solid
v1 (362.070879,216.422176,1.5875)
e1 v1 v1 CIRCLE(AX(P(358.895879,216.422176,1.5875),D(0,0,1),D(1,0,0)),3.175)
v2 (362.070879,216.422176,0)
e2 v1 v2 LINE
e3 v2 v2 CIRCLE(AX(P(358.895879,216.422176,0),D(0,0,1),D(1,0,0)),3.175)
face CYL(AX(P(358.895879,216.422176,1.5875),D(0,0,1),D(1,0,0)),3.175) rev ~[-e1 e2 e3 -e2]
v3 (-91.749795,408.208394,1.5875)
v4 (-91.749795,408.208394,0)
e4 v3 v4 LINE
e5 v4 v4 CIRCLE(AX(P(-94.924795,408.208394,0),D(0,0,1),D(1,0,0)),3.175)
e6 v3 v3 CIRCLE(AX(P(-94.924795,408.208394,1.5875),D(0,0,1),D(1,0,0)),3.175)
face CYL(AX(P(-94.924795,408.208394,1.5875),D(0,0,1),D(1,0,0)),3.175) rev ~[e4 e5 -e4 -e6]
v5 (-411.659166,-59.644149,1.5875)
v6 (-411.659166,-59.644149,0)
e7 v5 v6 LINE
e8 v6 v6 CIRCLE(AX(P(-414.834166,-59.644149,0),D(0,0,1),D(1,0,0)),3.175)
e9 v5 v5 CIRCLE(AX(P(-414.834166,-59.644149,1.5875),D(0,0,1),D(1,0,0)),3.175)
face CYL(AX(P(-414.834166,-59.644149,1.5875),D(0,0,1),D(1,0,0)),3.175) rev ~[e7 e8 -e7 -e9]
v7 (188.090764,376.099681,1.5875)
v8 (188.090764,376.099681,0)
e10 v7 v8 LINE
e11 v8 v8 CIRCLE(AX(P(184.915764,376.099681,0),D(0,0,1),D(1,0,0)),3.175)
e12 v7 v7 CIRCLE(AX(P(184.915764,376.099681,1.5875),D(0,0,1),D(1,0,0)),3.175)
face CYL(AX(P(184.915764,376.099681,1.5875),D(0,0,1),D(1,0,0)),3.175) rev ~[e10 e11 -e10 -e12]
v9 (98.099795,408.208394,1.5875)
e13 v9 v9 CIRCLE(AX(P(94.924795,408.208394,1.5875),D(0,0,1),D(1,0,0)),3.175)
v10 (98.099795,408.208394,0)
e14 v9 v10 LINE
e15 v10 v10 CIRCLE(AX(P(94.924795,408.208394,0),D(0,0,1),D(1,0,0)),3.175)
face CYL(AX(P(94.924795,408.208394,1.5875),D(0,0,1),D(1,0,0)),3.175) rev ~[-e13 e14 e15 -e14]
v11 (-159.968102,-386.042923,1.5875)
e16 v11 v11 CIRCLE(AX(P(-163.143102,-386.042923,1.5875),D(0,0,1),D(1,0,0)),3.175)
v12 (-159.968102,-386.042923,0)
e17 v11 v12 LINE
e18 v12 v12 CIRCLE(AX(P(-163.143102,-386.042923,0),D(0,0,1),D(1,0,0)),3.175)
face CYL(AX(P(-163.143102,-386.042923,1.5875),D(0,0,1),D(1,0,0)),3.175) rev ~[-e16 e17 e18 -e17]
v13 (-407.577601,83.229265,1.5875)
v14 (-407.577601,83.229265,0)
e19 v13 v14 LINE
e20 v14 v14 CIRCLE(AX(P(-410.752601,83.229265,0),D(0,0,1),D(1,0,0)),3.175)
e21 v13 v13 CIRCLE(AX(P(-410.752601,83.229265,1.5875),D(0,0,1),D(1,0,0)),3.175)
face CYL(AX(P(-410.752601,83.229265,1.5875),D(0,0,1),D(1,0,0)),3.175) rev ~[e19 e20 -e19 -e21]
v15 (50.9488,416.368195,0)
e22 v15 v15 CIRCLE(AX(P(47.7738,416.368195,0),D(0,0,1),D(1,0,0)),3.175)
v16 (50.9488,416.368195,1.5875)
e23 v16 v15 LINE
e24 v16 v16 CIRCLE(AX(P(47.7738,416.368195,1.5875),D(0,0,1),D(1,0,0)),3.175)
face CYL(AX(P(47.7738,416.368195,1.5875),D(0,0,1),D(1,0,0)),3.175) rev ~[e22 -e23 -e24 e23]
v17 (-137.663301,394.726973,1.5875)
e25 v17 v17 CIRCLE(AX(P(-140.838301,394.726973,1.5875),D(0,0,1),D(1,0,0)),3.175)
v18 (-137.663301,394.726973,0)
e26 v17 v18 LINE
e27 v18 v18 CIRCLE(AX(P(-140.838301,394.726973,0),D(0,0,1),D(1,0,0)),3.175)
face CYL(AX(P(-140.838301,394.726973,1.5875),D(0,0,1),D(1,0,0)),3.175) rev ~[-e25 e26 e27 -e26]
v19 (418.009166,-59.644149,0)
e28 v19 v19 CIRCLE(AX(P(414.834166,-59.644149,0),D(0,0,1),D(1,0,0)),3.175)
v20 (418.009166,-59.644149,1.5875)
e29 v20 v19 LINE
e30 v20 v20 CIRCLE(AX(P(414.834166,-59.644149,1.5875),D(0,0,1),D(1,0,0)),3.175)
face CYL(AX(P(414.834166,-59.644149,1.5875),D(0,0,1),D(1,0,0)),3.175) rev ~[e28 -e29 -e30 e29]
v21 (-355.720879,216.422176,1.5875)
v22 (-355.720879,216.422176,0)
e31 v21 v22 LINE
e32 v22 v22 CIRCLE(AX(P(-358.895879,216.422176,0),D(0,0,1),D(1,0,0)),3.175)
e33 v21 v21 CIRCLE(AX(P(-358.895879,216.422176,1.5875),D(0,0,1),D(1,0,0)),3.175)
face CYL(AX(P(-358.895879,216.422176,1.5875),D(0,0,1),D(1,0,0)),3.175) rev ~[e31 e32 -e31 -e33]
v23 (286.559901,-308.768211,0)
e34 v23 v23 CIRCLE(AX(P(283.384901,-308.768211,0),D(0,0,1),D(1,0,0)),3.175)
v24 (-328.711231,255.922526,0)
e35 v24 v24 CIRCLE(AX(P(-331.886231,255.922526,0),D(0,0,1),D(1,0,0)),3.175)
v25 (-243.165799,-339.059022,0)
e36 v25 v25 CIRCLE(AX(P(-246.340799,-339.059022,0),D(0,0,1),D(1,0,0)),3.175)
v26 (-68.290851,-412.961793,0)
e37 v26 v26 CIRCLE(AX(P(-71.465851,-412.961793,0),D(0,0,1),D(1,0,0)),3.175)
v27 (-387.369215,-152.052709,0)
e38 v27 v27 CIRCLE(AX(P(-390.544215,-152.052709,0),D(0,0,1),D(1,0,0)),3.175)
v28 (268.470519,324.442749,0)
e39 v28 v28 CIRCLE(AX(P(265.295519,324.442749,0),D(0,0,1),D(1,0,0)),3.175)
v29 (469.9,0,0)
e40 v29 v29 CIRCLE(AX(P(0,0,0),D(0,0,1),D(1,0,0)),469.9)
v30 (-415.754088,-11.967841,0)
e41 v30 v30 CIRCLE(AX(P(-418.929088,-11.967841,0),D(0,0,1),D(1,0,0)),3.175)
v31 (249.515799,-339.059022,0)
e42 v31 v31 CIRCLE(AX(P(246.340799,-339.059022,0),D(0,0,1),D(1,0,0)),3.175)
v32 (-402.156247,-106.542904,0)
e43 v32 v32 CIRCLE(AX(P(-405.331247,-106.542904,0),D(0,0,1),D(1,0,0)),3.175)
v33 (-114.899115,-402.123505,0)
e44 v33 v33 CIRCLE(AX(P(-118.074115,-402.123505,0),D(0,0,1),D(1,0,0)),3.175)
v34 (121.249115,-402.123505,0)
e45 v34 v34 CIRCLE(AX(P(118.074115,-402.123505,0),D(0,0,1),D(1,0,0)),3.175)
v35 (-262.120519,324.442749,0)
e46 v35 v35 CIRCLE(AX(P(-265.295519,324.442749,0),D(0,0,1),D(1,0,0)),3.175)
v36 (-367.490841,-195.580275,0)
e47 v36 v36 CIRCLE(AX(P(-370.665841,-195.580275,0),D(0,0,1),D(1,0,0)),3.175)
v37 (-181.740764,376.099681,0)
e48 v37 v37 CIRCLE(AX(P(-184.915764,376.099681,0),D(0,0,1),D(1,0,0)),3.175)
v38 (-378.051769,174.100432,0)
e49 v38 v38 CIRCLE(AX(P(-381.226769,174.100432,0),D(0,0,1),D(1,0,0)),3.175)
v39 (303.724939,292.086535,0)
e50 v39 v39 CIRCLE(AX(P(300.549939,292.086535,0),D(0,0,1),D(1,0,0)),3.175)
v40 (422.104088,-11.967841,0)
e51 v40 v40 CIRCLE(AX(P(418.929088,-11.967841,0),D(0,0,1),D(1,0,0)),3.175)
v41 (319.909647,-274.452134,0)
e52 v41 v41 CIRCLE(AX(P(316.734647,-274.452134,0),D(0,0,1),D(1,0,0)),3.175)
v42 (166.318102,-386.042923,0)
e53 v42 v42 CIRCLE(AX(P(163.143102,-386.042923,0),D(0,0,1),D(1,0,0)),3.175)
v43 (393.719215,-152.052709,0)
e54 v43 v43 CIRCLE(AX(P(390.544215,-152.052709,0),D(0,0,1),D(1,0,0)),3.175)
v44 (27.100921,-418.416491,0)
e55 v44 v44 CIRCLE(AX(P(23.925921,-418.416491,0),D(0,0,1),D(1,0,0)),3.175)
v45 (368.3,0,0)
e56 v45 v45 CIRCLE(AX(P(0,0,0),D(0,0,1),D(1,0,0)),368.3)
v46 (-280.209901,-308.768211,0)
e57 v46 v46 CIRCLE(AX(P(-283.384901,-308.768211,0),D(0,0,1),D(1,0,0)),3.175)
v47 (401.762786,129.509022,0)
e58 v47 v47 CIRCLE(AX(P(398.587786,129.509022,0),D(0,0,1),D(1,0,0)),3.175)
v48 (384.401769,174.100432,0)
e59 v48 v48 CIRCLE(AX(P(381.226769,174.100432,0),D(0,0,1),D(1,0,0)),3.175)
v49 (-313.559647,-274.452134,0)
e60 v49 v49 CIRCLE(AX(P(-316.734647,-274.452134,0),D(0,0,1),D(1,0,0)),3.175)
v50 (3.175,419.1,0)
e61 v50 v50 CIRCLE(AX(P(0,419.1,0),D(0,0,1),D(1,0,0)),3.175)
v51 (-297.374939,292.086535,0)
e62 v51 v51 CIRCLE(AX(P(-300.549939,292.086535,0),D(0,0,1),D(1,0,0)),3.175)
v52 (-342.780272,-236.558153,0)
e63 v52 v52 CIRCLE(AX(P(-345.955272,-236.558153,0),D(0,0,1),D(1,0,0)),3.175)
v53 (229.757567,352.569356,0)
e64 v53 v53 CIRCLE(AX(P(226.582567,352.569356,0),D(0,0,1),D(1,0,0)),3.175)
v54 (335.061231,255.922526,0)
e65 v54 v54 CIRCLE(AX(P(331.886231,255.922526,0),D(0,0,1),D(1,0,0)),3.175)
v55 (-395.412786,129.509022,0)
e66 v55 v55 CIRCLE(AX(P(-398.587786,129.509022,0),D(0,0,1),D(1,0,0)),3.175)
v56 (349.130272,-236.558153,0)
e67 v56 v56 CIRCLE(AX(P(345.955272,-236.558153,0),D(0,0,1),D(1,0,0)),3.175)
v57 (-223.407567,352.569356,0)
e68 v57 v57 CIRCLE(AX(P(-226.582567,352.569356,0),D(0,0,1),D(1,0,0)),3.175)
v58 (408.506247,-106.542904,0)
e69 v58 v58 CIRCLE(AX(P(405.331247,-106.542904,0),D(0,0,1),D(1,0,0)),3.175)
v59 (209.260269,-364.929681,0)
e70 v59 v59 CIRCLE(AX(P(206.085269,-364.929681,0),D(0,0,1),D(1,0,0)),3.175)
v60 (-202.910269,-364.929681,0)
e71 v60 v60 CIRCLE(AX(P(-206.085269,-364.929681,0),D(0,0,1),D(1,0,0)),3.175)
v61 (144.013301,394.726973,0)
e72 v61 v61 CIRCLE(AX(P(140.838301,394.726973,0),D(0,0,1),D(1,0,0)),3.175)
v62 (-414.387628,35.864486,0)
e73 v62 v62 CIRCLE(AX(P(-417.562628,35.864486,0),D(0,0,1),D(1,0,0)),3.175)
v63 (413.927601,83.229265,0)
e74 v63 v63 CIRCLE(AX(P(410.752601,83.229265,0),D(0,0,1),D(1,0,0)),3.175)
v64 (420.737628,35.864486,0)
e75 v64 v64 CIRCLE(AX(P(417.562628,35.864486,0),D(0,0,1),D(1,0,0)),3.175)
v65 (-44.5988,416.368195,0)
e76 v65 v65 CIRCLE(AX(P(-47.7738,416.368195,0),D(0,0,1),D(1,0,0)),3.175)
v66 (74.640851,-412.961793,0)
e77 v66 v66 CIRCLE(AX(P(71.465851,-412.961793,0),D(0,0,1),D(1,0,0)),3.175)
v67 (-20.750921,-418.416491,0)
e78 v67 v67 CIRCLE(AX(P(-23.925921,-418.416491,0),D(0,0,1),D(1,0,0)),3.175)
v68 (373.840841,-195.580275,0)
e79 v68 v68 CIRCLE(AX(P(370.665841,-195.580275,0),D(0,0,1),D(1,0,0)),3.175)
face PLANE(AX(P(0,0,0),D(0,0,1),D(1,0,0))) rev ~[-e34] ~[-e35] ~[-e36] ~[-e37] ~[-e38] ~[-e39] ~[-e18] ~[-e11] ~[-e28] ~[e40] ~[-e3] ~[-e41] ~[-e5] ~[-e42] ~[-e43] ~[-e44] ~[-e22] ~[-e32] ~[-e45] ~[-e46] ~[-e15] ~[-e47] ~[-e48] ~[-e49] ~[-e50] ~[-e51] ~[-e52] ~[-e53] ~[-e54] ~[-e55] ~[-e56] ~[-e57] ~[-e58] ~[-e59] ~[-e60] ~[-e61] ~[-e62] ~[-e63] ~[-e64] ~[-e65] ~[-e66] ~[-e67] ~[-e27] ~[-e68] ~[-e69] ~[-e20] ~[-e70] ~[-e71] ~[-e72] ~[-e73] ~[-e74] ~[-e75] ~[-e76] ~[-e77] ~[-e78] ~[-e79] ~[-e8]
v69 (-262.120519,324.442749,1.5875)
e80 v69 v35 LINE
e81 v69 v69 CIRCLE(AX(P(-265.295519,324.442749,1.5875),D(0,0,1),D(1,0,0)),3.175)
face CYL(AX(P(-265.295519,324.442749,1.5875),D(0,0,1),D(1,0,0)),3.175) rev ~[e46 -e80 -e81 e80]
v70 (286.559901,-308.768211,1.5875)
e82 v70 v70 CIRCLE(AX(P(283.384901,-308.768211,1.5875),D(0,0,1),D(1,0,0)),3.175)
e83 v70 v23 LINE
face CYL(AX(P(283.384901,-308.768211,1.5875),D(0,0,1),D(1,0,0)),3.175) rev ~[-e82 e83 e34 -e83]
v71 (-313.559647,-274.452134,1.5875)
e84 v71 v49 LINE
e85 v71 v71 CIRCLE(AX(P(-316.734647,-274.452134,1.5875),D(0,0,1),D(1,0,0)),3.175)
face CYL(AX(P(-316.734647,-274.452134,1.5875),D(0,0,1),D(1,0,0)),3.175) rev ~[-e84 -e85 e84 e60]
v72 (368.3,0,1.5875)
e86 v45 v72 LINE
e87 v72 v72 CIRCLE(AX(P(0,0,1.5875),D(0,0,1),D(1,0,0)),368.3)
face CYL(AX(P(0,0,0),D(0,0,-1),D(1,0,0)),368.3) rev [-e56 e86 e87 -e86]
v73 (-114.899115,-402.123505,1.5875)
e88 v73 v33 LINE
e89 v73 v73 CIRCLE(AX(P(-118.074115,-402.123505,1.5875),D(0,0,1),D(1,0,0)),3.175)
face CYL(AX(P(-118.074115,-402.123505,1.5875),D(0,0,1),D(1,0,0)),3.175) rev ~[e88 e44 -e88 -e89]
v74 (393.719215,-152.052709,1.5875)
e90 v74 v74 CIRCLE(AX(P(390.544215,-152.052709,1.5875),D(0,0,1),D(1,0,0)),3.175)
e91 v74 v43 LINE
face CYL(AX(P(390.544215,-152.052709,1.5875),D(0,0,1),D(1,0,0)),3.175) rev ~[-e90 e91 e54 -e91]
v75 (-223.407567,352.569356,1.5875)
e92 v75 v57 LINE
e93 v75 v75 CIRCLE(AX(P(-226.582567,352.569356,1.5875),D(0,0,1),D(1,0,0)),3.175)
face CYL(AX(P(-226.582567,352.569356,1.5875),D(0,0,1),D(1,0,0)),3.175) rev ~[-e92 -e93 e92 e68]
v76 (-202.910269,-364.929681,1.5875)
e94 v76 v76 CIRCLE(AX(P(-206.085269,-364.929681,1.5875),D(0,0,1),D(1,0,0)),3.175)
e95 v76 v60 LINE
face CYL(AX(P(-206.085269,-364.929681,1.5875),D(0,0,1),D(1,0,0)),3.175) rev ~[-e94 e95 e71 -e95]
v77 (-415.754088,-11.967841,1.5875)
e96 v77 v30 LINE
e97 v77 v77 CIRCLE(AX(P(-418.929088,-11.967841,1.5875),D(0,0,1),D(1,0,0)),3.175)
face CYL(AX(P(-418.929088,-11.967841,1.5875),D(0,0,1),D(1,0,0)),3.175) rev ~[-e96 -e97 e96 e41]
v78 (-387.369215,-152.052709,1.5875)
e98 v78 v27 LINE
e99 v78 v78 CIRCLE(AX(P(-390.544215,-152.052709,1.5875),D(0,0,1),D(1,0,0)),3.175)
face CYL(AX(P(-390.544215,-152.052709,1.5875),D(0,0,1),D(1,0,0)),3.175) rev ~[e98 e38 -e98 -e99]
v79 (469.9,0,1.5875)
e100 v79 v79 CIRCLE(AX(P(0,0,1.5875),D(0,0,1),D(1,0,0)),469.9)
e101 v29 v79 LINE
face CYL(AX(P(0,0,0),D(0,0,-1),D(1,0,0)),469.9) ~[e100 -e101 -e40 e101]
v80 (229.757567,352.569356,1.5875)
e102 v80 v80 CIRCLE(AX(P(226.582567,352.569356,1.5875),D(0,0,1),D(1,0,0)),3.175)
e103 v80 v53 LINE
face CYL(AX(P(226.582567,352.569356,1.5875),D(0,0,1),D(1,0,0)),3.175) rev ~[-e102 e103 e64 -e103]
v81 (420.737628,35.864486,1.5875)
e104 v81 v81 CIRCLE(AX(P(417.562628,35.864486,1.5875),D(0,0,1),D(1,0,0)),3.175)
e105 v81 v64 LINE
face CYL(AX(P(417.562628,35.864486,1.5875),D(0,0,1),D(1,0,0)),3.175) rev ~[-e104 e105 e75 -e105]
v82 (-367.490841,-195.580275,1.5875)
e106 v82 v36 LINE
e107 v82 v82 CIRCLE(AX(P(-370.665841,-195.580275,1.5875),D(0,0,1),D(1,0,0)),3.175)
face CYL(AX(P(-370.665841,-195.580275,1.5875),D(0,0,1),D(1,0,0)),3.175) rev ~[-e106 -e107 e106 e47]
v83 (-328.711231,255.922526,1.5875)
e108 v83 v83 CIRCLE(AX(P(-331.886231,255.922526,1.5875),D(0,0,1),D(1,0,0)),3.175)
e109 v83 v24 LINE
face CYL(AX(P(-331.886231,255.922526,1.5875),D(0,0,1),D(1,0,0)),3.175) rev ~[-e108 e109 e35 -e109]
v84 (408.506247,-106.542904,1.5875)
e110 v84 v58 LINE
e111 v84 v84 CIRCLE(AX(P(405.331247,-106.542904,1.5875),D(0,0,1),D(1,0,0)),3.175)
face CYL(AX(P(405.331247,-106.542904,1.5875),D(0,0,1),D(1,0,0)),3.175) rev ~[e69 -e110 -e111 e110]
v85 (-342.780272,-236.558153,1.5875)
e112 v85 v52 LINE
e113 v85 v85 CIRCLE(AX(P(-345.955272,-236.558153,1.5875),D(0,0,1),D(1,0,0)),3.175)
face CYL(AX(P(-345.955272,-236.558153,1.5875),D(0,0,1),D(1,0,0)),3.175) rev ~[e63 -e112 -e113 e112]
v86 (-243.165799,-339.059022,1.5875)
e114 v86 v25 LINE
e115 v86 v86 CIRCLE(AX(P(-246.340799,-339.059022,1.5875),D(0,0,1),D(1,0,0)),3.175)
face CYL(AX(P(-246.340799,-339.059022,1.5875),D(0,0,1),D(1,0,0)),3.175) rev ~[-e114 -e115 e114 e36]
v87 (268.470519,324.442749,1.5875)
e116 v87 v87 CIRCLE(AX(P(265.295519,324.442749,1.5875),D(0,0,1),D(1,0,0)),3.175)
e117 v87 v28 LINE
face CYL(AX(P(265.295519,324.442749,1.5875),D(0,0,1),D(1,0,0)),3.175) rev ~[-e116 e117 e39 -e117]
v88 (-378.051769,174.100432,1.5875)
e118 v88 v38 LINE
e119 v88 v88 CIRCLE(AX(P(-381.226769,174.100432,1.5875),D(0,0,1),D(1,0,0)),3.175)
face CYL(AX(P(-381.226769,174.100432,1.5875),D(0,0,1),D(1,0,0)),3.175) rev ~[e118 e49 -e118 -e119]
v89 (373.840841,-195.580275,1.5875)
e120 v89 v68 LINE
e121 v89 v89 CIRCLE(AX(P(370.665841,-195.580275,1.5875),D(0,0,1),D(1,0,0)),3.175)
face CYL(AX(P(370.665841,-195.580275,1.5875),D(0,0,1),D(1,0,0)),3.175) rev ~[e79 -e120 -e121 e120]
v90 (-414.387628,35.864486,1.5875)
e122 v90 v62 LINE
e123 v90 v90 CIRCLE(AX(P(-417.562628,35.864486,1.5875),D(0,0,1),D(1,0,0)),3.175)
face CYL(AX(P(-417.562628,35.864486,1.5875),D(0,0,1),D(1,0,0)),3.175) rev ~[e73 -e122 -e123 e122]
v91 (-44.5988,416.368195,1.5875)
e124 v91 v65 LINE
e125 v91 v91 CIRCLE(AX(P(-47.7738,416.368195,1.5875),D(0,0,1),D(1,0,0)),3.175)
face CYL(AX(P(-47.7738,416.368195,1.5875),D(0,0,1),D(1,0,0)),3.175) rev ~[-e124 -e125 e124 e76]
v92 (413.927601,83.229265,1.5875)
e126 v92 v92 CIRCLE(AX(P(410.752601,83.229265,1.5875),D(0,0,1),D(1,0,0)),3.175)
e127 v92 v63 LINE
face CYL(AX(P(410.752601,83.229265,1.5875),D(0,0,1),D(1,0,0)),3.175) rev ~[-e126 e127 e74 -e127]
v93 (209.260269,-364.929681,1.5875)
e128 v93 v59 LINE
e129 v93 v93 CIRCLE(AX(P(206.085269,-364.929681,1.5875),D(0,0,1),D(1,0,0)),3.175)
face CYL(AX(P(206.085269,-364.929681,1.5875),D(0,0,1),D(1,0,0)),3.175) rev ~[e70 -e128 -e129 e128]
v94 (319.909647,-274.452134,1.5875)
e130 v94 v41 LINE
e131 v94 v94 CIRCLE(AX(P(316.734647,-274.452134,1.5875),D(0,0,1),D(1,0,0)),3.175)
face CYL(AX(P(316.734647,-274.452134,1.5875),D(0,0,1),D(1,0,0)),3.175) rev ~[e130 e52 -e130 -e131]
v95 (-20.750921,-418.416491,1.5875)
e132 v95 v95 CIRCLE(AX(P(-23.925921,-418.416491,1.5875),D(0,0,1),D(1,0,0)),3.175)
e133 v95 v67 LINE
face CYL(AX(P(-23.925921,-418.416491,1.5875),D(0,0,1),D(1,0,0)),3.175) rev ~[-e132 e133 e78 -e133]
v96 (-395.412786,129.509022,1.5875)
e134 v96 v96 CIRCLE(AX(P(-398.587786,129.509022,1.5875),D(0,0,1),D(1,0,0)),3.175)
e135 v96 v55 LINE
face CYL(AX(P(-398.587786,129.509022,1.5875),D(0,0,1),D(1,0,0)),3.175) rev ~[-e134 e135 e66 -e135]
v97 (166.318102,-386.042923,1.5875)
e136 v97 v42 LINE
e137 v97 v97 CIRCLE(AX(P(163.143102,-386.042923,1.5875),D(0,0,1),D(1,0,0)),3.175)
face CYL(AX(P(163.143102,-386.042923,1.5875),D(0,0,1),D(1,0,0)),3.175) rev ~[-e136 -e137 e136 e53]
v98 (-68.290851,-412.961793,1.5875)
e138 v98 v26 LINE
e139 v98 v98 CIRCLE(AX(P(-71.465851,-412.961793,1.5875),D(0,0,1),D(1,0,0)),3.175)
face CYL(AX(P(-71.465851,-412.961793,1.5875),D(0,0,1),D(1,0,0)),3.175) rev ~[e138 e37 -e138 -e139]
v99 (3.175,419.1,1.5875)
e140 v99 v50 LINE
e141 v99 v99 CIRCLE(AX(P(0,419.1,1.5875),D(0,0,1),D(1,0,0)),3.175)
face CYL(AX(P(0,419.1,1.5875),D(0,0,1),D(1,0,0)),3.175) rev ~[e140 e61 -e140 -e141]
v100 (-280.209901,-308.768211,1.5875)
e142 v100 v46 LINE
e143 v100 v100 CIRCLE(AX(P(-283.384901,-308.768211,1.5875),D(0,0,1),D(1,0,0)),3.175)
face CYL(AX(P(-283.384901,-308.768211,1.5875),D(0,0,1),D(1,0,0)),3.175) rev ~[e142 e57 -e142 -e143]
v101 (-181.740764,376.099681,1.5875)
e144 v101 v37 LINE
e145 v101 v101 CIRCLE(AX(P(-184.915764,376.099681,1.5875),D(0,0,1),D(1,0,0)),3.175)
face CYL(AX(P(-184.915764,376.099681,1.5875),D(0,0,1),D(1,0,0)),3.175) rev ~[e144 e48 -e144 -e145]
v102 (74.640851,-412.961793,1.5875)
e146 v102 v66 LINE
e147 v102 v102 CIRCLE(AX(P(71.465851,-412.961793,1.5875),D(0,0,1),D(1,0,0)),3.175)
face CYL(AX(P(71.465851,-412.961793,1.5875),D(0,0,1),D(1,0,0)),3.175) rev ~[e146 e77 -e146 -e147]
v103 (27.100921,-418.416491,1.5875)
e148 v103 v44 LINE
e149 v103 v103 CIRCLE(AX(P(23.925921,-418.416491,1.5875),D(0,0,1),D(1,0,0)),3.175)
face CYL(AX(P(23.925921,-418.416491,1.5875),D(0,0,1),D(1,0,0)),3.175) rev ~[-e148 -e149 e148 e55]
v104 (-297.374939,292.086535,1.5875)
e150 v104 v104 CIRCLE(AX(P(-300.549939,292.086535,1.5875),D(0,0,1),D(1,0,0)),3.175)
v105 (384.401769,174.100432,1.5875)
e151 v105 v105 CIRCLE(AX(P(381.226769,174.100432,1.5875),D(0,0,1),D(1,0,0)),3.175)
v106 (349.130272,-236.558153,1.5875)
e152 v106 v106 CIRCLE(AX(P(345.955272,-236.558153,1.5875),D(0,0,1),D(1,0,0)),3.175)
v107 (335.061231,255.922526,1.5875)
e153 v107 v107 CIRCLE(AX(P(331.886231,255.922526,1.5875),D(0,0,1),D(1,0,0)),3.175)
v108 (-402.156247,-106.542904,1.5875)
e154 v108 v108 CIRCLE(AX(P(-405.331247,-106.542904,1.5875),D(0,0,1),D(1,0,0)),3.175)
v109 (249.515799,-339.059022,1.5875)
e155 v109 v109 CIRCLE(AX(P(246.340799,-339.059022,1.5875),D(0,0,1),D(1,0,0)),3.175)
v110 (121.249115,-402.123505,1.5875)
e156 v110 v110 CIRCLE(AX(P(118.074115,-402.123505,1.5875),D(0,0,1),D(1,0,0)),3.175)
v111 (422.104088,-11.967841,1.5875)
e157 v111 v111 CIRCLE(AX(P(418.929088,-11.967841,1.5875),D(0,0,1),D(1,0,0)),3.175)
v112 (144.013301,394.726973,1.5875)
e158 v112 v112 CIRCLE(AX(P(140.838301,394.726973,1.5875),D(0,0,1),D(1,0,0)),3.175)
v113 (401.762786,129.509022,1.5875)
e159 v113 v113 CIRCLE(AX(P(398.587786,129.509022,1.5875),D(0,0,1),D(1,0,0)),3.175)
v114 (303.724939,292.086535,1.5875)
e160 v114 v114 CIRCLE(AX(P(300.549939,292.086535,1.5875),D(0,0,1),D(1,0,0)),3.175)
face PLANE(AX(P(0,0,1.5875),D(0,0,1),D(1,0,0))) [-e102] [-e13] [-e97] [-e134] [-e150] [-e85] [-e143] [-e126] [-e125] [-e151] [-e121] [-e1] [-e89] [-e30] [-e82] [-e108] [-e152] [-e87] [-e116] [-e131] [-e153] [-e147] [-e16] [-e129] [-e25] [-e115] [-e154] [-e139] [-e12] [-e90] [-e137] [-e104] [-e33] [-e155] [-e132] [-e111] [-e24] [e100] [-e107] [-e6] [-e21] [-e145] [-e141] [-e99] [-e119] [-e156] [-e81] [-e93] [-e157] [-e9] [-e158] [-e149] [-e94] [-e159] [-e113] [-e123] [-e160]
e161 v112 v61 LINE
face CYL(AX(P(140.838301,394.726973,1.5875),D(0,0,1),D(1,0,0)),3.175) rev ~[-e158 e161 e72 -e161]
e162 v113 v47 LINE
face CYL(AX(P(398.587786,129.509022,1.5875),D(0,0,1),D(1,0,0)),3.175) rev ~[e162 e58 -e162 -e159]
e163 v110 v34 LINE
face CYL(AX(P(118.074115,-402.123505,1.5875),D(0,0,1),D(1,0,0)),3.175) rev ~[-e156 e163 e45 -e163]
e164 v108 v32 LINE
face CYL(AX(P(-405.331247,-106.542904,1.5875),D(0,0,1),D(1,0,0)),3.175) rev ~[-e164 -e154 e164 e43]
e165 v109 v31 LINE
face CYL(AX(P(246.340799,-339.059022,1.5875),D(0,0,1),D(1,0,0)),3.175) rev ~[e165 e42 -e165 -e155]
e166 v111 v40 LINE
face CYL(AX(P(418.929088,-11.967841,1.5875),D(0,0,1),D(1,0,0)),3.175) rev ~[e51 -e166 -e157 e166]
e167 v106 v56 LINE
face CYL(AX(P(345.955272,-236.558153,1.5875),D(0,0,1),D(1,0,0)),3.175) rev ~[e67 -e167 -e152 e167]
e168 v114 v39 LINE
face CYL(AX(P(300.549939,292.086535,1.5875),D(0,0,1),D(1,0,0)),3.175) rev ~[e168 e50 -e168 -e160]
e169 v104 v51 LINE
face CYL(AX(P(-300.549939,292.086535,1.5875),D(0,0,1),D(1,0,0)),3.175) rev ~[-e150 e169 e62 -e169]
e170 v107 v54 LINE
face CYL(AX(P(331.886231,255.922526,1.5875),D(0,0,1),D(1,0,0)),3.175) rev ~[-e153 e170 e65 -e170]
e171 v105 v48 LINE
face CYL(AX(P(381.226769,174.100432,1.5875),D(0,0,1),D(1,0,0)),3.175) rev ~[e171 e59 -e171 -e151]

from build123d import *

# Parameters (mm, degrees)
F0_R     = 469.9
F0_R_2   = 368.3
F1_DEPTH = 1.5875
F2_R     = 3.175
F3_DEPTH = 25.4


with BuildPart() as f1:
    # F0 (on Top) → F1 (new body)
    with BuildSketch(Plane.XY):
        Circle(F0_R)
        Circle(F0_R_2, mode=Mode.SUBTRACT)
    extrude(amount=F1_DEPTH)

    # F2 (on face) → F3 (cut)
    with BuildSketch(Plane.XY.offset(1.5875)):
        with Locations((0, 419.1)):
            Circle(F2_R)
        with Locations((-47.7738, 416.368195)):
            Circle(F2_R)
        with Locations((-94.924795, 408.208394)):
            Circle(F2_R)
        with Locations((-140.838301, 394.726973)):
            Circle(F2_R)
        with Locations((-184.915764, 376.099681)):
            Circle(F2_R)
        with Locations((-226.582567, 352.569356)):
            Circle(F2_R)
        with Locations((-265.295519, 324.442749)):
            Circle(F2_R)
        with Locations((-300.549939, 292.086535)):
            Circle(F2_R)
        with Locations((-331.886231, 255.922526)):
            Circle(F2_R)
        with Locations((-358.895879, 216.422176)):
            Circle(F2_R)
        with Locations((-381.226769, 174.100432)):
            Circle(F2_R)
        with Locations((-398.587786, 129.509022)):
            Circle(F2_R)
        with Locations((-410.752601, 83.229265)):
            Circle(F2_R)
        with Locations((-417.562628, 35.864486)):
            Circle(F2_R)
        with Locations((-418.929088, -11.967841)):
            Circle(F2_R)
        with Locations((-414.834166, -59.644149)):
            Circle(F2_R)
        with Locations((-405.331247, -106.542904)):
            Circle(F2_R)
        with Locations((-390.544215, -152.052709)):
            Circle(F2_R)
        with Locations((-370.665841, -195.580275)):
            Circle(F2_R)
        with Locations((-345.955272, -236.558153)):
            Circle(F2_R)
        with Locations((-316.734647, -274.452134)):
            Circle(F2_R)
        with Locations((-283.384901, -308.768211)):
            Circle(F2_R)
        with Locations((-246.340799, -339.059022)):
            Circle(F2_R)
        with Locations((-206.085269, -364.929681)):
            Circle(F2_R)
        with Locations((-163.143102, -386.042923)):
            Circle(F2_R)
        with Locations((-118.074115, -402.123505)):
            Circle(F2_R)
        with Locations((-71.465851, -412.961793)):
            Circle(F2_R)
        with Locations((-23.925921, -418.416491)):
            Circle(F2_R)
        with Locations((23.925921, -418.416491)):
            Circle(F2_R)
        with Locations((71.465851, -412.961793)):
            Circle(F2_R)
        with Locations((118.074115, -402.123505)):
            Circle(F2_R)
        with Locations((163.143102, -386.042923)):
            Circle(F2_R)
        with Locations((206.085269, -364.929681)):
            Circle(F2_R)
        with Locations((246.340799, -339.059022)):
            Circle(F2_R)
        with Locations((283.384901, -308.768211)):
            Circle(F2_R)
        with Locations((316.734647, -274.452134)):
            Circle(F2_R)
        with Locations((345.955272, -236.558153)):
            Circle(F2_R)
        with Locations((370.665841, -195.580275)):
            Circle(F2_R)
        with Locations((390.544215, -152.052709)):
            Circle(F2_R)
        with Locations((405.331247, -106.542904)):
            Circle(F2_R)
        with Locations((414.834166, -59.644149)):
            Circle(F2_R)
        with Locations((418.929088, -11.967841)):
            Circle(F2_R)
        with Locations((417.562628, 35.864486)):
            Circle(F2_R)
        with Locations((410.752601, 83.229265)):
            Circle(F2_R)
        with Locations((398.587786, 129.509022)):
            Circle(F2_R)
        with Locations((381.226769, 174.100432)):
            Circle(F2_R)
        with Locations((358.895879, 216.422176)):
            Circle(F2_R)
        with Locations((331.886231, 255.922526)):
            Circle(F2_R)
        with Locations((300.549939, 292.086535)):
            Circle(F2_R)
        with Locations((265.295519, 324.442749)):
            Circle(F2_R)
        with Locations((226.582567, 352.569356)):
            Circle(F2_R)
        with Locations((184.915764, 376.099681)):
            Circle(F2_R)
        with Locations((140.838301, 394.726973)):
            Circle(F2_R)
        with Locations((94.924795, 408.208394)):
            Circle(F2_R)
        with Locations((47.7738, 416.368195)):
            Circle(F2_R)
    extrude(amount=-F3_DEPTH, mode=Mode.SUBTRACT)


solid = f1.part
